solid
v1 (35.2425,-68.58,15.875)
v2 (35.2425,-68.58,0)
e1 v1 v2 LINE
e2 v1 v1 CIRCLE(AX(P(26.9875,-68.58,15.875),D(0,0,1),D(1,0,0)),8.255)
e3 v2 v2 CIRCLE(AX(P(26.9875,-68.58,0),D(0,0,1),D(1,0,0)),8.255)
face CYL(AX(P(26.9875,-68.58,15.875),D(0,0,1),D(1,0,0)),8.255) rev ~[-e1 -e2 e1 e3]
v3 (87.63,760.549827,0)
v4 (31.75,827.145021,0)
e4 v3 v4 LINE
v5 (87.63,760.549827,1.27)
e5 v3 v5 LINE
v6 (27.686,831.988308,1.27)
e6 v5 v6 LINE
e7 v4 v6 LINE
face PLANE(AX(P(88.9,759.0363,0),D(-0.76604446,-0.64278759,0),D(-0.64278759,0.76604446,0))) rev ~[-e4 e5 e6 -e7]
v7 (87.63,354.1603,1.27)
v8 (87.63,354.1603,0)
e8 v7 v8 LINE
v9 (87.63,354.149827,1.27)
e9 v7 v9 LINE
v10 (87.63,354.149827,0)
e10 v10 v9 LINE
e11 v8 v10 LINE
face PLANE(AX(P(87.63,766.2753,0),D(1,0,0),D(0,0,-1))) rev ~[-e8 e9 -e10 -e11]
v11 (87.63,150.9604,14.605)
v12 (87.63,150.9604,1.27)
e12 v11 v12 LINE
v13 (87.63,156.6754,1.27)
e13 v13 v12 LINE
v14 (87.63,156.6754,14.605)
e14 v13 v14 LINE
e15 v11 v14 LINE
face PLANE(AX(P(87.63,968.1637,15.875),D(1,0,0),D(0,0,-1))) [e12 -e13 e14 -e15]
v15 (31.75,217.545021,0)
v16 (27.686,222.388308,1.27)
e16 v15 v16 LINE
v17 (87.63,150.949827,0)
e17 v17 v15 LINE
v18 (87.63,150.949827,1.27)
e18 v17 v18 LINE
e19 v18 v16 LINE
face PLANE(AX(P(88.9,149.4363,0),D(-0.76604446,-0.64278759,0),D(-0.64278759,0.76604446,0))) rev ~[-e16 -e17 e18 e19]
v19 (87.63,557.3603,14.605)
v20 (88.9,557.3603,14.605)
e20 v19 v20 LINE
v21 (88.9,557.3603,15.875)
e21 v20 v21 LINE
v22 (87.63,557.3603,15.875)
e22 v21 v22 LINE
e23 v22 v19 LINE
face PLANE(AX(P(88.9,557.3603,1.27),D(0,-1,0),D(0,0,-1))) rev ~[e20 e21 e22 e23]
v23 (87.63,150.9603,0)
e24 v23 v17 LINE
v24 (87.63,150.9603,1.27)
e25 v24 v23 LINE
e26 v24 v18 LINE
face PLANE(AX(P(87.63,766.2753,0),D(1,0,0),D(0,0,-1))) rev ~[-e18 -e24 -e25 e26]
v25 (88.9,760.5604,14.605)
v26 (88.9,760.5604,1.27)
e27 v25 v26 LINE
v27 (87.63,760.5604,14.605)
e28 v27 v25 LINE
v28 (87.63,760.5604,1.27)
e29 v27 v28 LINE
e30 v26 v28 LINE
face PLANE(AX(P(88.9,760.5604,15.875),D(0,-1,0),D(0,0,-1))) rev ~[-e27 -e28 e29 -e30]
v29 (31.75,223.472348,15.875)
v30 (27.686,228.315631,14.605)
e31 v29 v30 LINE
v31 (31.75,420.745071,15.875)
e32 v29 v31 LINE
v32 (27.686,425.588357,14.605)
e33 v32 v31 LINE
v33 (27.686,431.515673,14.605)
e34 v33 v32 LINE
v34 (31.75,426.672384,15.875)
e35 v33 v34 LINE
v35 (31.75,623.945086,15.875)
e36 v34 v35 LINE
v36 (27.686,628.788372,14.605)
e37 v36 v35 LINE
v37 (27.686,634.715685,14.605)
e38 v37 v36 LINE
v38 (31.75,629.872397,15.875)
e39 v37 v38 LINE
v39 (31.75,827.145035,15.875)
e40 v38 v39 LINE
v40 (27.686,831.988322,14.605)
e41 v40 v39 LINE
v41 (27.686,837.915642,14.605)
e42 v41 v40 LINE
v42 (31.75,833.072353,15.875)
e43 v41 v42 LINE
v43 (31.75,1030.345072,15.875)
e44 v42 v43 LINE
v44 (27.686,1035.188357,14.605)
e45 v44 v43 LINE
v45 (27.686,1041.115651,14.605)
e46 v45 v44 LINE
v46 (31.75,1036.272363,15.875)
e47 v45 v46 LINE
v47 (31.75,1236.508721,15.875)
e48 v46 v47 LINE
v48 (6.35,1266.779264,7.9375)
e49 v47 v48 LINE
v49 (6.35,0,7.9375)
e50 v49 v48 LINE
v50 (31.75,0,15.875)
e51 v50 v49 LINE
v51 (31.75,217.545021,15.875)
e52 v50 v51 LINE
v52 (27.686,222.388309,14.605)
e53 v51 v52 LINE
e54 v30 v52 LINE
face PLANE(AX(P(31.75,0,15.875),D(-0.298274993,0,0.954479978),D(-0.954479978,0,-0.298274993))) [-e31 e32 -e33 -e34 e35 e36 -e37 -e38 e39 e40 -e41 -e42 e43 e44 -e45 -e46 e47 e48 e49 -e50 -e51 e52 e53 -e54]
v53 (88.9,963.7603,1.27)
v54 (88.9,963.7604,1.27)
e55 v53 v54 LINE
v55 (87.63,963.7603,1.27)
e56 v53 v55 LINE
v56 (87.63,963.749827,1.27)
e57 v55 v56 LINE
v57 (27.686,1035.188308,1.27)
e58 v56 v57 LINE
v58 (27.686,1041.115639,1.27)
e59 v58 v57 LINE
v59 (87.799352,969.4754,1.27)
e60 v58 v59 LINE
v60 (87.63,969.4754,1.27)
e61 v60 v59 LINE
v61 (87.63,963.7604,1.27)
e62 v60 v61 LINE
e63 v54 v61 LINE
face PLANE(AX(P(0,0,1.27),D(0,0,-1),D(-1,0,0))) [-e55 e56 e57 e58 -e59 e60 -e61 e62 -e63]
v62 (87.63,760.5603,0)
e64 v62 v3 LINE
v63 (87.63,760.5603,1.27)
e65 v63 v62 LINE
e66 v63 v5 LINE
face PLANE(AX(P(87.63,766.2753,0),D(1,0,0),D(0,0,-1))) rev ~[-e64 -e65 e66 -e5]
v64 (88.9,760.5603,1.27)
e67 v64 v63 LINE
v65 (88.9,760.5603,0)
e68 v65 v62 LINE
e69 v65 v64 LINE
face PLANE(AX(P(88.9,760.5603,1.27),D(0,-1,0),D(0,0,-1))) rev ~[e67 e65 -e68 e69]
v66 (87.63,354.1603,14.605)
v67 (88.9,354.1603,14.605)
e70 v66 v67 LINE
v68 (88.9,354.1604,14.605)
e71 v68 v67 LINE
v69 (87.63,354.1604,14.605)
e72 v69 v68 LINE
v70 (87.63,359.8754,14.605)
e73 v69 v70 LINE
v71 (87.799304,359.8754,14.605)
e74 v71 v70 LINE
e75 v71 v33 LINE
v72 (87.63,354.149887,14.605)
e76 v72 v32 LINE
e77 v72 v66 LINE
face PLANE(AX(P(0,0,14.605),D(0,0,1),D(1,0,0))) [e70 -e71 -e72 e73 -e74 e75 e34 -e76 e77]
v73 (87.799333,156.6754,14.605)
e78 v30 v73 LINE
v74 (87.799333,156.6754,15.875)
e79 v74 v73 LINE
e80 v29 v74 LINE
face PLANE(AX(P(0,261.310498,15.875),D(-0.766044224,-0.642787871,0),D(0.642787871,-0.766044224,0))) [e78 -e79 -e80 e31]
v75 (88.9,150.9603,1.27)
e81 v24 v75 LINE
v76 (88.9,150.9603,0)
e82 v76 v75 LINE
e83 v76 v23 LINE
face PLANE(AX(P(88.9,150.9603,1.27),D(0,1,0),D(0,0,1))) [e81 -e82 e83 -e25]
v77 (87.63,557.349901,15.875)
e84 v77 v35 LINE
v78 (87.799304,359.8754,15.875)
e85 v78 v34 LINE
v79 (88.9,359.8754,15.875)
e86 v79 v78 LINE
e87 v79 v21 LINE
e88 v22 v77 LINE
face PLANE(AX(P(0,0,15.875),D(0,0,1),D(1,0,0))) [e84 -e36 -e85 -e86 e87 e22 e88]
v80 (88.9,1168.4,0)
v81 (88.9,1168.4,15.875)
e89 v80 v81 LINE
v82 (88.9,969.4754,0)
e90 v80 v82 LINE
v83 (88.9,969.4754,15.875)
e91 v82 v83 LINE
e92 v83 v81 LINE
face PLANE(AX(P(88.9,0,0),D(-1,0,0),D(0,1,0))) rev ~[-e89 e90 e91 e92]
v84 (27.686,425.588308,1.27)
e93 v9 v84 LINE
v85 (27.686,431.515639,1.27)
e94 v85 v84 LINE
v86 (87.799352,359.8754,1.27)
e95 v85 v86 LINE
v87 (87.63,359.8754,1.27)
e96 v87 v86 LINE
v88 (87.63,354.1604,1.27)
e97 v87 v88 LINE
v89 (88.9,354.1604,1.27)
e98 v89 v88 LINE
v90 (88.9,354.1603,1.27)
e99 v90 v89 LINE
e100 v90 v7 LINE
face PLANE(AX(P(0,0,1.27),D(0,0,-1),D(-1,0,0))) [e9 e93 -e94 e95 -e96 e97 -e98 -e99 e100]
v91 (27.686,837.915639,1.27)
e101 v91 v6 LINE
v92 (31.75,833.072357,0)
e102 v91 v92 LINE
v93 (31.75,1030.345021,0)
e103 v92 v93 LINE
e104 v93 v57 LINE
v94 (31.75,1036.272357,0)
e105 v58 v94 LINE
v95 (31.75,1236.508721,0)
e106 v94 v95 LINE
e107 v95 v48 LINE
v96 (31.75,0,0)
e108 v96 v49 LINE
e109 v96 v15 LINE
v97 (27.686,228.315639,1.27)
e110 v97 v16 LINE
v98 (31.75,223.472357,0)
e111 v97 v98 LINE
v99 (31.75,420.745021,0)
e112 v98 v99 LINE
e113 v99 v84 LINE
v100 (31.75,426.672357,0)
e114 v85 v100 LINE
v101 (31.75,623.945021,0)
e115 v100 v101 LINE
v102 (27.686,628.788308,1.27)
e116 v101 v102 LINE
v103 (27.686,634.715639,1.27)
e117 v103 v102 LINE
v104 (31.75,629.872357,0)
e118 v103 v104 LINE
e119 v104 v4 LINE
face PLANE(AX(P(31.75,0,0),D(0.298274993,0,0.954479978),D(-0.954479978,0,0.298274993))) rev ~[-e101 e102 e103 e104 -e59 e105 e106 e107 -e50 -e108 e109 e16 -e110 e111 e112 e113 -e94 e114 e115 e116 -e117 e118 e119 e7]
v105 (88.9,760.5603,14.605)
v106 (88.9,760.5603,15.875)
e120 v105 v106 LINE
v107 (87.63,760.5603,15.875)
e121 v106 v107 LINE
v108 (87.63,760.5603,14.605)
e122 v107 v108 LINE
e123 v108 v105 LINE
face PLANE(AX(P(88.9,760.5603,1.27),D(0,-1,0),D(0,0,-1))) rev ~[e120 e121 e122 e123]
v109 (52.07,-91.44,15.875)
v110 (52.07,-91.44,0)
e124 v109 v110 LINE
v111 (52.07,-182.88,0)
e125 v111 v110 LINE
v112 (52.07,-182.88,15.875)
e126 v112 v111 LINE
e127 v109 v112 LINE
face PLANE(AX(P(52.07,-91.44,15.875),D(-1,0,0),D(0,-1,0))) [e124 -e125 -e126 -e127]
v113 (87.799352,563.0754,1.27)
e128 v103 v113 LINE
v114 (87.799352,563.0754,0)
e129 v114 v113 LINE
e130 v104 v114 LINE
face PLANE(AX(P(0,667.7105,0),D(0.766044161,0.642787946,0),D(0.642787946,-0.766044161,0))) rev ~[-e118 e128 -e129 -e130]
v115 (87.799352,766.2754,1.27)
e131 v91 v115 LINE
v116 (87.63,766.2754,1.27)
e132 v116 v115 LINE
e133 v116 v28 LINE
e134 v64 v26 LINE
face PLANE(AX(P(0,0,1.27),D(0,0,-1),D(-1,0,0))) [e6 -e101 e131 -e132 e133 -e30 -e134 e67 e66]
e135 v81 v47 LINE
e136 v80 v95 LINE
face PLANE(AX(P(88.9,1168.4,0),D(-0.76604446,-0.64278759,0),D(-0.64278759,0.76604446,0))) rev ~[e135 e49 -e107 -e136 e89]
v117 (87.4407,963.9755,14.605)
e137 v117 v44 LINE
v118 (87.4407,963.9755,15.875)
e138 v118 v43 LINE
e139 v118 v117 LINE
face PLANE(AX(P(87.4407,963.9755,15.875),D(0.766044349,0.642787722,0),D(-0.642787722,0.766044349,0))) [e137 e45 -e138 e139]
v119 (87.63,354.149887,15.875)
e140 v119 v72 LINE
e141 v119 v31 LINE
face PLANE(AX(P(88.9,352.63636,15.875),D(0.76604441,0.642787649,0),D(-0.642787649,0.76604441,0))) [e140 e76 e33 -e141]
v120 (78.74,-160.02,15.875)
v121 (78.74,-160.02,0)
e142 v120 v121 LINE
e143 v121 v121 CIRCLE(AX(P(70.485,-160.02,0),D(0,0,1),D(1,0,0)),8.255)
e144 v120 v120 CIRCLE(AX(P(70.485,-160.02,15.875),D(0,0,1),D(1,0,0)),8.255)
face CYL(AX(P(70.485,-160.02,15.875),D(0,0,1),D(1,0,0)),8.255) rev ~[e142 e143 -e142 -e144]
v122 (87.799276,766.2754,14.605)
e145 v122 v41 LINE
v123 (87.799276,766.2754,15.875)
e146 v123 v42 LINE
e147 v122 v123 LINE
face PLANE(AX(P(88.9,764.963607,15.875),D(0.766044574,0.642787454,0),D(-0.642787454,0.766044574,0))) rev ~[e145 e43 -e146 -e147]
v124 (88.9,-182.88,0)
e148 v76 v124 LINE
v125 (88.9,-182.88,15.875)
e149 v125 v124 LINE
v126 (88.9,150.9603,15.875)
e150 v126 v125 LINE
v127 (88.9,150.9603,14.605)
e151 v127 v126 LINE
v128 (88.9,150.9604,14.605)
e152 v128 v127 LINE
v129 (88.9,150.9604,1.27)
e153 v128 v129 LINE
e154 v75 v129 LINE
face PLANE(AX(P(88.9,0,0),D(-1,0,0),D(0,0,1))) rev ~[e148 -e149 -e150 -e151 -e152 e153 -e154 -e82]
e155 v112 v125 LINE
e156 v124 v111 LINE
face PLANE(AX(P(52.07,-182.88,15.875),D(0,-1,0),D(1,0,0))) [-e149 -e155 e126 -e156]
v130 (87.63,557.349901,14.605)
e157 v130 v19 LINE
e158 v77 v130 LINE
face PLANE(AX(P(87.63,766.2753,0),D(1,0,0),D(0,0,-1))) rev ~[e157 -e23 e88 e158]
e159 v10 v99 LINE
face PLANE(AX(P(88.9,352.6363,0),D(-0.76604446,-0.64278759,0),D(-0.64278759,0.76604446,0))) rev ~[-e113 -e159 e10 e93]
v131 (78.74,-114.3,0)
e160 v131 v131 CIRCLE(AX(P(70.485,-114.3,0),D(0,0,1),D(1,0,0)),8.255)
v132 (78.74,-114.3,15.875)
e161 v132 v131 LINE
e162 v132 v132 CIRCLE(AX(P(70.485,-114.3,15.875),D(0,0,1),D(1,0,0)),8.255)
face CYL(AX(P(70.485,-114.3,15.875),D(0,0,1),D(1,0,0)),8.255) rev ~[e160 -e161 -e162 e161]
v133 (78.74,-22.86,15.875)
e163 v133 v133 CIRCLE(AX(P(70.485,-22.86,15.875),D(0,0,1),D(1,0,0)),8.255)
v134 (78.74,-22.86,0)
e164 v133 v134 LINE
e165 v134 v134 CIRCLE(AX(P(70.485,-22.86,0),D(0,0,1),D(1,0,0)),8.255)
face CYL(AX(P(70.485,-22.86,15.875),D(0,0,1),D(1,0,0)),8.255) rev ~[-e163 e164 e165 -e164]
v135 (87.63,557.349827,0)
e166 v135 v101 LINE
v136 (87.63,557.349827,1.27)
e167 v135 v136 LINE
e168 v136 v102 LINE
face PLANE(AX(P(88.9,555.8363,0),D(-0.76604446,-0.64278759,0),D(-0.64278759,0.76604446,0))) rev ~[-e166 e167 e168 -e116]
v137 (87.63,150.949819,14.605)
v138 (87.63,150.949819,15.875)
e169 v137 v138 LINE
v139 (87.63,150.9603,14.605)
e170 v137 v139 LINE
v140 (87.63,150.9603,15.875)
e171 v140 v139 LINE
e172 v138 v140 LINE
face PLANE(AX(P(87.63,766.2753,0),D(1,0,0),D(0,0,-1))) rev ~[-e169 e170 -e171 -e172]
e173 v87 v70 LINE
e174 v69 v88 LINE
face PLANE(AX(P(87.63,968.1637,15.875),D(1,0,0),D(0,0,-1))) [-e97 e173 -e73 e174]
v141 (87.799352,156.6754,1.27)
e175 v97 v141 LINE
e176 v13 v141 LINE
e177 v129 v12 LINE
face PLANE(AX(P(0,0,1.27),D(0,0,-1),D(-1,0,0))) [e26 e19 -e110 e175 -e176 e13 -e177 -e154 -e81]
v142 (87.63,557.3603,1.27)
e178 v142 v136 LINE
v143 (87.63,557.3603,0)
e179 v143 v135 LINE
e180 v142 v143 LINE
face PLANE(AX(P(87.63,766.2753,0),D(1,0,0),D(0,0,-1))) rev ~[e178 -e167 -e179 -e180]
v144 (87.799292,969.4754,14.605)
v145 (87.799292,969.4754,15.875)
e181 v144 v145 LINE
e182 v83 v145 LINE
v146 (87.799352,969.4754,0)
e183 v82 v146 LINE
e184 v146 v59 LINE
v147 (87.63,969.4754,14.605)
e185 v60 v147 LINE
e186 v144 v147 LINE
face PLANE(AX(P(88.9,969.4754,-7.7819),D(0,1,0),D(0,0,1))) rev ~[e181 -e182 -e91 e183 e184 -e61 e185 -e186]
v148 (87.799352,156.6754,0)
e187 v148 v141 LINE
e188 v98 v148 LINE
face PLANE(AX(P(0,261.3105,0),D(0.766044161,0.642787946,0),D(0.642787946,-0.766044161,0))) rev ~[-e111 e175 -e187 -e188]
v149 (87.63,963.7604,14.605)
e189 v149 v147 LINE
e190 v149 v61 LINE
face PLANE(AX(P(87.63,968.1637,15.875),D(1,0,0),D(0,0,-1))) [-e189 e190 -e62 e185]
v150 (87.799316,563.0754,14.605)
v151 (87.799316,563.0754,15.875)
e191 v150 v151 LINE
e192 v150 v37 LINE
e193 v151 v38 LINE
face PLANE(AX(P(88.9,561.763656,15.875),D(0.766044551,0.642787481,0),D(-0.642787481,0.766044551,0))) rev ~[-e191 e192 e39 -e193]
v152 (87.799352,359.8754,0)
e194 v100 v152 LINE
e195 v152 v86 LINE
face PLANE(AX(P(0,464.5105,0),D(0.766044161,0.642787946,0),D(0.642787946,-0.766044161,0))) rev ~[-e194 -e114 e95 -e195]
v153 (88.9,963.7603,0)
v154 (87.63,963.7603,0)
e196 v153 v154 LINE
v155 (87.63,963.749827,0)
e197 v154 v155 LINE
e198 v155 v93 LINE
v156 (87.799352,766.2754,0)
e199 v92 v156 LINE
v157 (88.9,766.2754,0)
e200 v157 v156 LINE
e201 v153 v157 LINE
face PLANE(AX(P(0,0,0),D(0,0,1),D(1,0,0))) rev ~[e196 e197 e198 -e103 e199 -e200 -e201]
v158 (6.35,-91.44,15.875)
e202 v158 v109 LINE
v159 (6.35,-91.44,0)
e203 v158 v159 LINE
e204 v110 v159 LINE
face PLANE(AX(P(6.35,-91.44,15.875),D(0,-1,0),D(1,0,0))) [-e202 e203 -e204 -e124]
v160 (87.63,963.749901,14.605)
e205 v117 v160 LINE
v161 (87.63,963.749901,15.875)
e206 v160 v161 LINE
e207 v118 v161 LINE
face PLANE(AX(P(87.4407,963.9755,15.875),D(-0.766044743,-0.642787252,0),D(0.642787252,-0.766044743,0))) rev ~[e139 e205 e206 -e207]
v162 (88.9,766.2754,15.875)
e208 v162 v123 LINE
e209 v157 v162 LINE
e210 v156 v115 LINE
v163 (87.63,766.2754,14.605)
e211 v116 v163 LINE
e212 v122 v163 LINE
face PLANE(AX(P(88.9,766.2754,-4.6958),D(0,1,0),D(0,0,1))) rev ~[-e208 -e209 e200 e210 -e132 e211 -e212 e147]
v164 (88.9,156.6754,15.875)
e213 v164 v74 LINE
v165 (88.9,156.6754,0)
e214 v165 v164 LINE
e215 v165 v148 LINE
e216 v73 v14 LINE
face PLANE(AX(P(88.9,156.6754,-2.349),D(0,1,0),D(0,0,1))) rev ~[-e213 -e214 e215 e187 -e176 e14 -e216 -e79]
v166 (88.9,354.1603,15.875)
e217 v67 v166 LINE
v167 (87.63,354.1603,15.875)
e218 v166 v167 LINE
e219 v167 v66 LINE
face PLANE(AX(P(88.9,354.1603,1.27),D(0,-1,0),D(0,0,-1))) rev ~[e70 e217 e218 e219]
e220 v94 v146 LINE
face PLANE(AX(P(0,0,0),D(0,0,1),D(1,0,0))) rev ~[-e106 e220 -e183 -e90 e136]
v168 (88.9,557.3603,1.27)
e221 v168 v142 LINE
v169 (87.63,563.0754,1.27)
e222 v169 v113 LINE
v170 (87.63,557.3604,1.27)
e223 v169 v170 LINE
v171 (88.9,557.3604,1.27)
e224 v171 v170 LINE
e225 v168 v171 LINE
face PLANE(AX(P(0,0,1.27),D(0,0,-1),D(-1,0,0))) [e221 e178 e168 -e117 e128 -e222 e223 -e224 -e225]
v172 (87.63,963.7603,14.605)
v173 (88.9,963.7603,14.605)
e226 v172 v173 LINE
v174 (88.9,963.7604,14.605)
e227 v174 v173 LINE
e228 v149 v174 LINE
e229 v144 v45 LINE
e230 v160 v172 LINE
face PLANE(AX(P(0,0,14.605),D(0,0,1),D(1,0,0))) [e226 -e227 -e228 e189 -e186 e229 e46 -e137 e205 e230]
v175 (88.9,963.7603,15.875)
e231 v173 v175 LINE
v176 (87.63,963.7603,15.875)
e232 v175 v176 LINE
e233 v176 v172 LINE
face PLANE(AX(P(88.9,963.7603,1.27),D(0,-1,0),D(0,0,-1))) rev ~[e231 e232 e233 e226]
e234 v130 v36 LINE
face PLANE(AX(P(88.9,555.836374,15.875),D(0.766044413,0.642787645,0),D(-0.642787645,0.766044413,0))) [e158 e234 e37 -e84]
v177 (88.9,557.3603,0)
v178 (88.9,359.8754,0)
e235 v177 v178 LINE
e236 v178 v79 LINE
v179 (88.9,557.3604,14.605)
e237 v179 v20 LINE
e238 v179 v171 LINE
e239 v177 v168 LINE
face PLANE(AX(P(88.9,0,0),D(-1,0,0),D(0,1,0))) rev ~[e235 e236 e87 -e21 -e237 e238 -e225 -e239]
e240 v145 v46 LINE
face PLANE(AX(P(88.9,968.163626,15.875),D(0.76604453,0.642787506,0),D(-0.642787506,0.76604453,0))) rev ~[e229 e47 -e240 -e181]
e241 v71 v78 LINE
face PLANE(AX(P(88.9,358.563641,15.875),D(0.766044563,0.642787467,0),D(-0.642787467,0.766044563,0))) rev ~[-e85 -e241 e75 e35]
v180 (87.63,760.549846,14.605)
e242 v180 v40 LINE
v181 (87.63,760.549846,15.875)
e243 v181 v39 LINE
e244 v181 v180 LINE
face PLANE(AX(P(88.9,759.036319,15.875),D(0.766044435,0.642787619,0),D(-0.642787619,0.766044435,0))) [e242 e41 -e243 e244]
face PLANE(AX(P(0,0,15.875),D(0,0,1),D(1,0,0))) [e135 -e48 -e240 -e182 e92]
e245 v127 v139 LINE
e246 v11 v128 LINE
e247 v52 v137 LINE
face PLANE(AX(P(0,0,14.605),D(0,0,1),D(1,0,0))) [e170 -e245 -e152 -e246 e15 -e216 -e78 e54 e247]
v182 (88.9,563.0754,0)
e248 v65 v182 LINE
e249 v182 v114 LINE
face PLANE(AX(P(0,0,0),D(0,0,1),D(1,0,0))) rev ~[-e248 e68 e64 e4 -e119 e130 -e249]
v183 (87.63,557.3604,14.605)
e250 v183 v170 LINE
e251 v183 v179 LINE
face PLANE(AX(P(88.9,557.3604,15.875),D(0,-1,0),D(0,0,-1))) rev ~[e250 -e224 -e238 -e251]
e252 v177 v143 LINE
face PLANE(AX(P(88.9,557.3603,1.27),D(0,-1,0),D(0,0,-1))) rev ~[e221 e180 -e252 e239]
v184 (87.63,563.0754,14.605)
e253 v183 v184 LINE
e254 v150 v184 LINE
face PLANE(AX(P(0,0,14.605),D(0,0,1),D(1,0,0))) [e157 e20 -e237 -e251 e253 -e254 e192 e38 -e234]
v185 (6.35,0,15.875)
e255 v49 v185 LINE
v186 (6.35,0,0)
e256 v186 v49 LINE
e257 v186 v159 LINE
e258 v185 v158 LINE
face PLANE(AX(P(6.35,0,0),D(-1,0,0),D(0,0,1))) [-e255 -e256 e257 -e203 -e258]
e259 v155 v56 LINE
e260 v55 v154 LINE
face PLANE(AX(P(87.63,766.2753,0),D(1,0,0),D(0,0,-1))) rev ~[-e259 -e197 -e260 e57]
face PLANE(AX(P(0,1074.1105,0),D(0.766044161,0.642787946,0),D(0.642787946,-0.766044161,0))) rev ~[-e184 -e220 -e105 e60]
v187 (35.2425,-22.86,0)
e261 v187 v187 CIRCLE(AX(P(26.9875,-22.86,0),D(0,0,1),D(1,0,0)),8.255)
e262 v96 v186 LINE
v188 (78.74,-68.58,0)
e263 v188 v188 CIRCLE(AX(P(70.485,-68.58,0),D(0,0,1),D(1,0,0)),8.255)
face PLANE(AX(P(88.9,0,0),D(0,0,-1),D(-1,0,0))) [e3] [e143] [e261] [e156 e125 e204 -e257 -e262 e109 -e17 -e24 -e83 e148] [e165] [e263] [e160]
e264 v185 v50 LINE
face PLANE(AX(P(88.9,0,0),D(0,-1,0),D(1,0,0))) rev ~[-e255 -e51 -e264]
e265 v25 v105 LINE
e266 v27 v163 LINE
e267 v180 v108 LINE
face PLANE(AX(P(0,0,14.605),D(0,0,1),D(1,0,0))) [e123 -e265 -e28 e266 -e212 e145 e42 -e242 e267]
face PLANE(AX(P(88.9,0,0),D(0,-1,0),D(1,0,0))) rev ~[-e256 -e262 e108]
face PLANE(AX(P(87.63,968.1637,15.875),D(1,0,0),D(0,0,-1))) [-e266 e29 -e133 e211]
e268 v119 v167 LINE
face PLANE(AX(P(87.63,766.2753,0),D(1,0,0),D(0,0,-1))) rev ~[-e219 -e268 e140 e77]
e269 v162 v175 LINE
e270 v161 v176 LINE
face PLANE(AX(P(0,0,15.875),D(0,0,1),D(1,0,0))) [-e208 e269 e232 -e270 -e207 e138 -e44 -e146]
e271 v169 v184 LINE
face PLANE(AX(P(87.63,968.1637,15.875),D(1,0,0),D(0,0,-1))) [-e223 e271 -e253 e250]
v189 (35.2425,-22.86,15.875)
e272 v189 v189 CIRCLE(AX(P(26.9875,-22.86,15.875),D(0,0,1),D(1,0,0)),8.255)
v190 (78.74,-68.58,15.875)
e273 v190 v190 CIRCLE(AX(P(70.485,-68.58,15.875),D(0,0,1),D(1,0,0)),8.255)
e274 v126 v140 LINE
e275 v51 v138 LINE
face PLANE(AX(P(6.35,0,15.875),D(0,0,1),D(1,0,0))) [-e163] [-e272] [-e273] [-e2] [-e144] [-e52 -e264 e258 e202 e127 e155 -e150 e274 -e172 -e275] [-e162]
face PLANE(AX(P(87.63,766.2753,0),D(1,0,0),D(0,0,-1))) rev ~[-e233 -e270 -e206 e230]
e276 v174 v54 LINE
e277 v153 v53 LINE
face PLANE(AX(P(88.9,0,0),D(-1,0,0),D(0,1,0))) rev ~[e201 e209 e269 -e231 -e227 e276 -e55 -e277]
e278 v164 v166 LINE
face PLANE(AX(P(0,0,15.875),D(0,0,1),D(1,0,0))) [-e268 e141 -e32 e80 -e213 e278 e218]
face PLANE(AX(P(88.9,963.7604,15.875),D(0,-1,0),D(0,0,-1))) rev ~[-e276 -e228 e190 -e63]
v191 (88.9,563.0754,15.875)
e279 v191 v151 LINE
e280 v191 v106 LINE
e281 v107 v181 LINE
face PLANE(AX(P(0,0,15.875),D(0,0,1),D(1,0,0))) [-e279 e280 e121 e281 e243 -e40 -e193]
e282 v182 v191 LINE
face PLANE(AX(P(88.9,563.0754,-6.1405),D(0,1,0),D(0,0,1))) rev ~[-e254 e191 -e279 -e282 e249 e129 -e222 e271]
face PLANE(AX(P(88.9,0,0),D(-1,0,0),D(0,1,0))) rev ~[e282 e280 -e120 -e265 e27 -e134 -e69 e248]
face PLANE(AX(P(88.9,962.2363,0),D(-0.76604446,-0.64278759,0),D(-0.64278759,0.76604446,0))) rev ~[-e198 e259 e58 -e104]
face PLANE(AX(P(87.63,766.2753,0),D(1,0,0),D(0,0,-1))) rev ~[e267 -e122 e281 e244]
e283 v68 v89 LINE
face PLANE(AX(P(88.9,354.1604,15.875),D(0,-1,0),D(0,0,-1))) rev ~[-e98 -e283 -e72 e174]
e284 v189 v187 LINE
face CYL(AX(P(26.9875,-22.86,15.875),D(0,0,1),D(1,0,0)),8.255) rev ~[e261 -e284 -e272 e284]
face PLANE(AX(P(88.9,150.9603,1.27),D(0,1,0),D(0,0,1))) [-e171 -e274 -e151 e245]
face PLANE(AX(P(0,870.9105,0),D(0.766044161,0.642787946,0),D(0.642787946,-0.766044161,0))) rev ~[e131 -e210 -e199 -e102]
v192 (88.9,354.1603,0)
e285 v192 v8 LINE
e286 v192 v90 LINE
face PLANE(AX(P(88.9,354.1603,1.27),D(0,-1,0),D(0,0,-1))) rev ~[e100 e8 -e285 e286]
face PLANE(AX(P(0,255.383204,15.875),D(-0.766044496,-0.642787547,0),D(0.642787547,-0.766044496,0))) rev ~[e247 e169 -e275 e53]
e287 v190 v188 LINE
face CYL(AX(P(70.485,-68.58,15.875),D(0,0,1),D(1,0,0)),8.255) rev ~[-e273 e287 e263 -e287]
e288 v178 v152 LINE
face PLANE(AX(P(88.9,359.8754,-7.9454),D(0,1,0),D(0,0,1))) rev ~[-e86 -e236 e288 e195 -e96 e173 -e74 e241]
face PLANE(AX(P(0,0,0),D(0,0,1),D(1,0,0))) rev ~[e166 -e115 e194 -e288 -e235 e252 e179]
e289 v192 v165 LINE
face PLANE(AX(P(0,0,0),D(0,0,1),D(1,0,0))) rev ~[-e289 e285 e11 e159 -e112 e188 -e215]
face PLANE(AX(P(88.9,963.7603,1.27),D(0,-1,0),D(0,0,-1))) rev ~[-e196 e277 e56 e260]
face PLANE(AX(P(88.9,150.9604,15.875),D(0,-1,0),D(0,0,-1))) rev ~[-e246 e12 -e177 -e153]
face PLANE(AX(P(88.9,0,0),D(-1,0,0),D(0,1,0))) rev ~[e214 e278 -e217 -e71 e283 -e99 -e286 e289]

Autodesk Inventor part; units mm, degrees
ref_plane "YZ Plane" through (0, 0, 0) normal (1, 0, 0) x (0, 1, 0)
ref_plane "XZ Plane" through (0, 0, 0) normal (0, 1, 0) x (-1, 0, 0)
ref_plane "XY Plane" through (0, 0, 0) normal (0, 0, 1) x (1, 0, 0)
sketch "Sketch1" plane through (0, 0, 0) normal (0, 0, 1) x (1, 0, 0)
  line L0 (0, 0) -> (88.9, 0)
  line L1 (88.9, 0) -> (88.9, 1168.4)
  line L2 (0, 1168.4) -> (0, 0)
  line L3 (-1378.8531, -765.1447) -> (-1378.8531, 1773.0142) construction
  line L4 (-1378.8531, 1773.0142) -> (415.5122, 1773.0142) construction
  line L5 (415.5122, 1773.0142) -> (415.5122, -765.1447) construction
  line L6 (415.5122, -765.1447) -> (-1378.8531, -765.1447) construction
  line L7 (44.45, 1168.4) -> (176.9474, 1168.4) construction
  line L8 (0, 1168.4) -> (0, 1119.7734)
  line L9 (88.9, 1168.4) -> (0, 1274.3469)
  line L10 (0, 1168.4) -> (0, 1274.3469)
  line L11 (88.9, 1168.4) -> (88.9, 1229.5585)
  line L12 (88.9, 1168.4) -> (88.9, 965.2)
  line L13 (88.9, 965.2) -> (88.9, 762)
  line L14 (88.9, 762) -> (88.9, 558.8)
  line L15 (88.9, 558.8) -> (88.9, 355.6)
  line L16 (88.9, 355.6) -> (88.9, 152.4)
  line L17 (88.9, 965.2) -> (-57.897, 1140.1458)
  line L18 (88.9, 965.2) -> (317.2756, 965.2) construction
  line L19 (88.9, 762) -> (-57.897, 936.9458)
  line L20 (88.9, 762) -> (317.2756, 762) construction
  line L21 (88.9, 558.8) -> (-71.0436, 749.4133)
  line L22 (88.9, 558.8) -> (337.728, 558.8) construction
  line L23 (88.9, 355.6) -> (-47.9591, 518.7023)
  line L24 (88.9, 355.6) -> (301.815, 355.6) construction
  line L25 (88.9, 152.4) -> (-31.1466, 295.4659)
  line L26 (88.9, 152.4) -> (275.6593, 152.4) construction
  line L27 (88.9, 152.4) -> (137.8508, 94.0627)
  line L28 (88.9, 355.6) -> (128.9332, 307.8903)
  line L29 (88.9, 558.8) -> (137.8508, 500.4627)
  line L30 (88.9, 762) -> (152.1538, 686.617)
  line L31 (-57.897, 936.9458) -> (152.1538, 686.617)
  line L32 (-71.0436, 749.4133) -> (137.8508, 500.4627)
  line L33 (-47.9591, 518.7023) -> (128.9332, 307.8903)
  line L34 (-31.1466, 295.4659) -> (137.8508, 94.0627)
  line L35 (164.9833, 874.5275) -> (-78.8863, 1165.1599)
  line L36 (90.3593, 966.4245) -> (-56.4377, 1141.3704)
  line L37 (87.4407, 963.9755) -> (-59.3563, 1138.9213)
  line L38 (157.3047, 680.4784) -> (-71.0436, 952.6133)
  line L39 (158.764, 681.7029) -> (-69.5842, 953.8378)
  line L40 (155.8454, 679.2539) -> (-72.5029, 951.3888)
  line L41 (144.9042, 492.0568) -> (-84.555, 765.5156)
  line L42 (146.3635, 493.2813) -> (-83.0956, 766.7401)
  line L43 (143.4449, 490.8323) -> (-86.0143, 764.2911)
  line L44 (137.8508, 297.2627) -> (-69.5842, 544.4742)
  line L45 (139.3101, 298.4872) -> (-68.1249, 545.6987)
  line L46 (136.3915, 296.0382) -> (-71.0436, 543.2497)
  line L47 (-41.5719, 307.8903) -> (172.2961, 53.0124)
  line L48 (-40.1126, 309.1148) -> (173.7555, 54.2369)
  line L49 (-43.0312, 306.6658) -> (170.8368, 51.7878)
  line L50 (87.4407, 963.9755) -> (94.264, 955.8438)
  dimension "d0" = 88.9
  dimension "d1" = 1168.4
  dimension "d23" = 40
  dimension "d37" = 1.905
  dimension "d38" = 1.905
  dimension "d39" = 1.905
  dimension "d40" = 1.905
  dimension "d41" = 1.905
  dimension "d42" = 1.905
  dimension "d43" = 1.905
  dimension "d44" = 1.905
  dimension "d45" = 1.905
  dimension "d46" = 1.905
  dimension "d129" = 105.9469
extrude "Extrusion1" add sketch "Sketch1" along normal blind 15.875
sketch "Sketch2" plane through (0, 0, 15.875) normal (0, 0, 1) x (1, 0, 0)
  line L0 (0, 0) -> (88.9, 0)
  line L1 (88.9, 0) -> (88.9, 1168.4)
  line L2 (0, 1168.4) -> (0, 0)
  line L3 (-1378.8531, -765.1447) -> (-1378.8531, 1773.0142) construction
  line L4 (-1378.8531, 1773.0142) -> (415.5122, 1773.0142) construction
  line L5 (415.5122, 1773.0142) -> (415.5122, -765.1447) construction
  line L6 (415.5122, -765.1447) -> (-1378.8531, -765.1447) construction
  line L7 (44.45, 1168.4) -> (176.9474, 1168.4) construction
  line L8 (0, 1168.4) -> (0, 1119.7734)
  line L9 (88.9, 1168.4) -> (0, 1274.3469)
  line L10 (0, 1168.4) -> (0, 1274.3469)
  line L11 (88.9, 1168.4) -> (88.9, 1229.5585)
  line L12 (88.9, 1168.4) -> (88.9, 965.2)
  line L13 (88.9, 965.2) -> (88.9, 762)
  line L14 (88.9, 762) -> (88.9, 558.8)
  line L15 (88.9, 558.8) -> (88.9, 355.6)
  line L16 (88.9, 355.6) -> (88.9, 152.4)
  line L17 (88.9, 965.2) -> (-57.897, 1140.1458)
  line L18 (88.9, 965.2) -> (317.2756, 965.2) construction
  line L19 (88.9, 762) -> (-57.897, 936.9458)
  line L20 (88.9, 762) -> (317.2756, 762) construction
  line L21 (88.9, 558.8) -> (-71.0436, 749.4133)
  line L22 (88.9, 558.8) -> (337.728, 558.8) construction
  line L23 (88.9, 355.6) -> (-47.9591, 518.7023)
  line L24 (88.9, 355.6) -> (301.815, 355.6) construction
  line L25 (88.9, 152.4) -> (-31.1466, 295.4659)
  line L26 (88.9, 152.4) -> (275.6593, 152.4) construction
  line L27 (88.9, 152.4) -> (137.8508, 94.0627)
  line L28 (88.9, 355.6) -> (128.9332, 307.8903)
  line L29 (88.9, 558.8) -> (137.8508, 500.4627)
  line L30 (88.9, 762) -> (152.1538, 686.617)
  line L31 (-57.897, 936.9458) -> (152.1538, 686.617)
  line L32 (-71.0436, 749.4133) -> (137.8508, 500.4627)
  line L33 (-47.9591, 518.7023) -> (128.9332, 307.8903)
  line L34 (-31.1466, 295.4659) -> (137.8508, 94.0627)
  line L35 (164.9833, 874.5275) -> (-78.8863, 1165.1599)
  line L36 (90.3593, 966.4245) -> (-56.4377, 1141.3704)
  line L37 (87.4407, 963.9755) -> (-59.3563, 1138.9213)
  line L38 (157.3047, 680.4784) -> (-71.0436, 952.6133)
  line L39 (158.764, 681.7029) -> (-69.5842, 953.8378)
  line L40 (155.8454, 679.2539) -> (-72.5029, 951.3888)
  line L41 (144.9042, 492.0568) -> (-84.555, 765.5156)
  line L42 (146.3635, 493.2813) -> (-83.0956, 766.7401)
  line L43 (143.4449, 490.8323) -> (-86.0143, 764.2911)
  line L44 (137.8508, 297.2627) -> (-69.5842, 544.4742)
  line L45 (139.3101, 298.4872) -> (-68.1249, 545.6987)
  line L46 (136.3915, 296.0382) -> (-71.0436, 543.2497)
  line L47 (-41.5719, 307.8903) -> (172.2961, 53.0124)
  line L48 (-40.1126, 309.1148) -> (173.7555, 54.2369)
  line L49 (-43.0312, 306.6658) -> (170.8368, 51.7878)
  line L50 (87.4407, 963.9755) -> (94.264, 955.8438)
  point P0 (88.9, 962.2363)
  point P1 (88.9, 968.1637)
  point P2 (0, 1074.1105)
  point P3 (0, 1068.1832)
  point P4 (0, 864.9832)
  point P5 (88.9, 759.0363)
  point P6 (88.9, 764.9637)
  point P7 (0, 870.9105)
  point P8 (0, 661.7832)
  point P9 (88.9, 555.8363)
  point P10 (88.9, 561.7637)
  point P11 (0, 667.7105)
  point P12 (0, 458.5832)
  point P13 (88.9, 352.6363)
  point P14 (88.9, 358.5637)
  point P15 (0, 464.5105)
  point P16 (88.9, 155.3637)
  point P17 (0, 261.3105)
  point P18 (0, 255.3832)
  point P19 (88.9, 149.4363)
  dimension "d49" = 88.9
  dimension "d50" = 1168.4
  dimension "d51" = 40
  dimension "d52" = 1.905
  dimension "d53" = 1.905
  dimension "d54" = 1.905
  dimension "d55" = 1.905
  dimension "d56" = 1.905
  dimension "d57" = 1.905
  dimension "d58" = 1.905
  dimension "d59" = 1.905
  dimension "d60" = 1.905
  dimension "d61" = 1.905
extrude "Extrusion2" cut sketch "Sketch2" against normal blind 1.27 contours L2 L25 L1 L49 | L2 L48 L1 L25 | L2 L23 L1 L46 | L2 L45 L1 L23 | L2 L21 L1 L43 | L2 L42 L1 L21 | L2 L19 L1 L40 | L2 L39 L1 L19 | L2 L17 L1 L50 L37 | L2 L36 L1 L17
sketch "Sketch3" plane through (0, 0, 0) normal (0, 0, -1) x (-1, 0, 0)
  line L0 (-88.9, 149.4363) -> (0, 255.3832) projected
  line L1 (0, 261.3105) -> (-88.9, 155.3637) projected
  line L2 (0, 464.5105) -> (-88.9, 358.5637) projected
  line L3 (-88.9, 352.6363) -> (0, 458.5832) projected
  line L4 (-88.9, 555.8363) -> (0, 661.7832) projected
  line L5 (0, 667.7105) -> (-88.9, 561.7637) projected
  line L6 (-88.9, 759.0363) -> (0, 864.9832) projected
  line L7 (0, 870.9105) -> (-88.9, 764.9637) projected
  line L8 (-88.9, 962.2363) -> (0, 1068.1832) projected
  line L9 (0, 1074.1105) -> (-88.9, 968.1637) projected
  line L10 (0, 1274.3469) -> (0, 0) projected
  line L11 (-88.9, 1168.4) -> (0, 1274.3469) projected
  line L12 (-88.9, 0) -> (-88.9, 1168.4) projected
  line L13 (0, 0) -> (-88.9, 0) projected
extrude "Extrusion3" cut sketch "Sketch3" against normal blind 1.27 contours L12 L1 L10 L0 | L12 L2 L10 L3 | L12 L5 L10 L4 | L12 L7 L10 L6 | L12 L9 L10 L8
sketch "Sketch4" plane through (88.9, 968.1637, 15.875) normal (1, 0, 0) x (0, 0, -1)
  line L0 (-0.8567, 45.5077) -> (24.5433, 45.5077)
  line L1 (24.5433, 45.5077) -> (24.5433, 51.2227)
  line L2 (24.5433, 51.2227) -> (-0.8567, 51.2227)
  line L3 (-0.8567, 51.2227) -> (-0.8567, 45.5077)
  line L4 (1.27, -5.9273) -> (0, -5.9273) projected
  line L5 (0, -5.9273) -> (0, -4.4033)
  line L6 (0, 100.0196) -> (0, -97.2531) projected
  line L7 (-3.6064, -4.4033) -> (23.6569, -4.4033)
  line L8 (23.6569, -4.4033) -> (23.6569, 1.3117)
  line L9 (23.6569, 1.3117) -> (-3.6064, 1.3117)
  line L10 (-3.6064, 1.3117) -> (-3.6064, -4.4033)
  line L11 (1.27, -818.7273) -> (0, -818.7273) projected
  line L12 (0, -818.7273) -> (0, -817.2033)
  line L13 (0, -712.7804) -> (0, -968.1637) projected
  line L14 (1.27, -615.5273) -> (0, -615.5273) projected
  line L15 (0, -615.5273) -> (0, -614.0033)
  line L16 (0, -615.5273) -> (0, -509.5804) projected
  line L17 (1.27, -412.3273) -> (0, -412.3273) projected
  line L18 (0, -412.3273) -> (0, -410.8033)
  line L19 (0, -306.3804) -> (0, -503.6531) projected
  line L20 (1.27, -209.1273) -> (0, -209.1273) projected
  line L21 (0, -209.1273) -> (0, -207.6033)
  line L22 (0, -103.1804) -> (0, -300.4531) projected
  line L23 (-2.1765, -817.2033) -> (18.224, -817.2033)
  line L24 (18.224, -817.2033) -> (18.224, -811.4883)
  line L25 (18.224, -811.4883) -> (-2.1765, -811.4883)
  line L26 (-2.1765, -811.4883) -> (-2.1765, -817.2033)
  line L27 (-1.5796, -614.0033) -> (23.8204, -614.0033)
  line L28 (23.8204, -614.0033) -> (23.8204, -608.2883)
  line L29 (23.8204, -608.2883) -> (-1.5796, -608.2883)
  line L30 (-1.5796, -608.2883) -> (-1.5796, -614.0033)
  line L31 (-2.2774, -410.8033) -> (22.0155, -410.8033)
  line L32 (22.0155, -410.8033) -> (22.0155, -405.0883)
  line L33 (22.0155, -405.0883) -> (-2.2774, -405.0883)
  line L34 (-2.2774, -405.0883) -> (-2.2774, -410.8033)
  line L35 (-1.5796, -207.6033) -> (20.5708, -207.6033)
  line L36 (20.5708, -207.6033) -> (20.5708, -201.8883)
  line L37 (20.5708, -201.8883) -> (-1.5796, -201.8883)
  line L38 (-1.5796, -201.8883) -> (-1.5796, -207.6033)
  point P0 (15.875, -968.1637)
  point P1 (0, -201.8883)
  point P2 (0, -811.4883)
  point P3 (0, -608.2883)
  point P4 (0, -405.0883)
  point P5 (0, 1.3117)
  point P6 (0, -4.4033)
  dimension "d74" = 5.715
  dimension "d75" = 25.4
  dimension "d76" = 1.524
  dimension "d79" = 5.715
  dimension "d80" = 1.524
  dimension "d81" = 1.524
  dimension "d82" = 1.524
  dimension "d83" = 1.524
  dimension "d85" = 5.715
  dimension "d86" = 25.4
  dimension "d87" = 5.715
  dimension "d88" = 5.715
  dimension "d89" = 5.715
extrude "Extrusion4" cut sketch "Sketch4" against normal blind 1.27 contours L9 L8 L7 L6 | L25 L24 L23 L13 | L16 L29 L28 L27 | L33 L32 L31 L19 | L37 L36 L35 L22
sketch "Sketch6" plane through (88.9, 766.2753, 0) normal (1, 0, 0) x (0, 0, -1)
  line L0 (-1.27, -615.315) -> (-14.605, -615.315)
  line L1 (-14.605, -615.315) -> (-14.605, -616.839)
  line L2 (-14.605, -616.839) -> (-15.875, -616.839)
  line L3 (-15.875, -766.2753) -> (-15.875, -616.839)
  line L4 (0, -766.2753) -> (-15.875, -766.2753)
  line L5 (0, -766.2753) -> (0, -616.839)
  line L6 (0, -616.839) -> (-1.27, -616.839)
  line L7 (-1.27, -616.839) -> (-1.27, -615.315)
  line L8 (-1.27, -412.115) -> (-14.605, -412.115)
  line L9 (-14.605, -412.115) -> (-14.605, -413.639)
  line L10 (-14.605, -413.639) -> (-15.875, -413.639)
  line L11 (-15.875, -609.6) -> (-15.875, -413.639)
  line L12 (-15.875, -609.6) -> (0, -609.6)
  line L13 (0, -609.6) -> (0, -413.639)
  line L14 (0, -413.639) -> (-1.27, -413.639)
  line L15 (-1.27, -413.639) -> (-1.27, -412.115)
  line L16 (0, -406.4) -> (0, -210.439)
  line L17 (-15.875, -406.4) -> (0, -406.4)
  line L18 (0, -406.4) -> (0, -210.439)
  line L19 (0, -210.439) -> (-1.27, -210.439)
  line L20 (-1.27, -210.439) -> (-1.27, -208.915)
  line L21 (-1.27, -208.915) -> (-14.605, -208.915)
  line L22 (-14.605, -208.915) -> (-14.605, -210.439)
  line L23 (-14.605, -210.439) -> (-15.875, -210.439)
  line L24 (-15.875, -406.4) -> (-15.875, -210.439)
  line L25 (-15.875, -203.2) -> (0, -203.2)
  line L26 (0, -203.2) -> (0, -7.239)
  line L27 (0, -7.239) -> (-1.27, -7.239)
  line L28 (-1.27, -7.239) -> (-1.27, -5.715)
  line L29 (-1.27, -5.715) -> (-14.605, -5.715)
  line L30 (-14.605, -5.715) -> (-14.605, -7.239)
  line L31 (-14.605, -7.239) -> (-15.875, -7.239)
  line L32 (-15.875, -203.2) -> (-15.875, -7.239)
  line L33 (-15.875, 0) -> (0, 0)
  line L34 (0, 0) -> (0, 195.961)
  line L35 (0, 195.961) -> (-1.27, 195.961)
  line L36 (-1.27, 195.961) -> (-1.27, 197.485)
  line L37 (-1.27, 197.485) -> (-14.605, 197.485)
  line L38 (-14.605, 197.485) -> (-14.605, 195.961)
  line L39 (-14.605, 195.961) -> (-15.875, 195.961)
  line L40 (-15.875, 0) -> (-15.875, 195.961)
  line L41 (-15.875, 203.2) -> (0, 203.2)
  line L42 (0, 203.2) -> (0, 402.1247)
  line L43 (0, 402.1247) -> (-15.875, 402.1247)
  line L44 (-15.875, 203.2) -> (-15.875, 402.1247)
  line L45 (0, 402.1247) -> (0, 508.0715)
  line L46 (0, 508.0715) -> (-15.875, 508.0715)
  line L47 (-15.875, 402.1247) -> (-15.875, 508.0715)
  line L48 (0, 402.1247) -> (-15.875, 402.1247)
  line L49 (-15.875, 195.961) -> (-15.875, 301.9079)
  line L50 (0, 195.961) -> (-1.27, 195.961)
  line L51 (-15.875, 197.485) -> (0, 197.485)
  line L52 (0, 197.485) -> (0, 195.961)
  line L53 (0, 195.961) -> (-15.875, 195.961)
  line L54 (-15.875, 195.961) -> (-15.875, 197.485)
  line L55 (-15.875, 98.7079) -> (-15.875, -98.5648)
  line L56 (0, -7.239) -> (-1.27, -7.239)
  line L57 (-15.875, -5.715) -> (0, -5.715)
  line L58 (0, -5.715) -> (0, -7.239)
  line L59 (0, -7.239) -> (-15.875, -7.239)
  line L60 (-15.875, -7.239) -> (-15.875, -5.715)
  line L61 (-15.875, -104.4921) -> (-15.875, -301.7648)
  line L62 (0, -104.4921) -> (0, -210.439)
  line L63 (-15.875, -208.915) -> (0, -208.915)
  line L64 (0, -208.915) -> (0, -210.439)
  line L65 (0, -210.439) -> (-15.875, -210.439)
  line L66 (-15.875, -210.439) -> (-15.875, -208.915)
  line L67 (-15.875, -413.639) -> (-15.875, -307.6921)
  line L68 (0, -307.6921) -> (0, -413.639)
  line L69 (-15.875, -412.115) -> (0, -412.115)
  line L70 (0, -412.115) -> (0, -413.639)
  line L71 (0, -413.639) -> (-15.875, -413.639)
  line L72 (-15.875, -413.639) -> (-15.875, -412.115)
  line L73 (-15.875, -616.839) -> (-15.875, -510.8921)
  line L74 (0, -510.8921) -> (0, -616.839)
  line L75 (-15.875, -615.315) -> (0, -615.315)
  line L76 (0, -615.315) -> (0, -616.839)
  line L77 (0, -616.839) -> (-15.875, -616.839)
  line L78 (-15.875, -616.839) -> (-15.875, -615.315)
extrude "Extrusion5" add sketch "Sketch6" against normal blind 1.27 contours L7 L77 L1 L0 | L75 L74 L6 L7 | L1 L2 L73 L75 | L14 L15 L69 L68 | L67 L69 L9 L10 | L71 L9 L8 L15 | L19 L20 L63 L62 | L65 L22 L21 L20 | L61 L63 L22 L23 | L27 L28 L57 L58 | L59 L30 L29 L28 | L55 L57 L30 L31 | L35 L36 L51 L52 | L49 L51 L38 L39 | L53 L38 L37 L36
sketch "Sketch8" plane through (0, 0, 15.875) normal (0, 0, 1) x (1, 0, 0)
  line L0 (0, -7.1275) -> (6.35, -7.1275)
  line L1 (6.35, -7.1275) -> (6.35, 1442.9398)
  line L2 (6.35, 1442.9398) -> (0, 1442.9398)
  line L3 (0, 1442.9398) -> (0, -7.1275)
  point P0 (0, 0)
  dimension "d94" = 6.35
extrude "Extrusion6" cut sketch "Sketch8" against normal through all
sketch "Sketch12" plane through (88.9, 0, 0) normal (0, -1, 0) x (1, 0, 0)
  line L0 (-82.55, 15.875) -> (-82.55, 14.605) projected
  line L1 (-82.55, 15.875) -> (-57.15, 15.875)
  line L2 (-82.55, 15.875) -> (-1.1006, 15.875) projected
  line L3 (-57.15, 15.875) -> (-82.55, 7.9375)
  line L4 (-82.55, 15.875) -> (-82.55, 0) projected
  line L5 (-82.55, 0) -> (-1.27, 0) projected
  line L6 (-82.55, 15.875) -> (-82.55, 0) projected
  line L7 (-82.55, 0) -> (0, 0) projected
  line L8 (0, 0) -> (0, 15.875) projected
  line L9 (-82.55, 15.875) -> (0, 15.875) projected
  line L10 (-57.15, 0) -> (-82.55, 7.9375)
  point P0 (-88.9, 0)
  dimension "d104" = 25.4
extrude "Extrusion8" cut sketch "Sketch12" against normal through all contours L1 L3 L4 L0 | L10 L5 L4
sketch "Sketch13" plane through (88.9, 0, 0) normal (0, -1, 0) x (1, 0, 0)
  line L0 (0, 0) -> (0, 15.875) projected
  line L1 (0, 0) -> (-82.55, 0)
  line L2 (-82.55, 0) -> (-82.55, 15.875)
  line L3 (-82.55, 15.875) -> (0, 15.875)
  line L4 (0, 15.875) -> (0, 0)
  point P0 (-88.9, 0)
extrude "Extrusion9" add sketch "Sketch13" along normal blind 184.15
sketch "Sketch14" plane through (0, 0, 15.875) normal (0, 0, 1) x (1, 0, 0)
  line L0 (6.35, 0) -> (6.35, -184.15) projected
  line L1 (6.35, 0) -> (6.35, -91.44)
  line L2 (6.35, -91.44) -> (52.07, -91.44)
  line L3 (52.07, -91.44) -> (52.07, -182.88)
  line L4 (52.07, -182.88) -> (88.9, -182.88)
  line L5 (88.9, 150.9603) -> (88.9, -184.15) projected
  line L6 (31.75, 217.5451) -> (31.75, 0) projected
  line L7 (31.75, 0) -> (6.35, 0) projected
  line L8 (6.35, 0) -> (6.35, -184.15) projected
  line L9 (88.9, -184.15) -> (6.35, -184.15) projected
  line L10 (88.9, 150.9603) -> (88.9, -184.15) projected
  line L11 (88.9, 150.9603) -> (87.63, 150.9603) projected
  line L12 (87.63, 150.9499) -> (87.63, 150.9603) projected
  line L13 (87.63, 150.9499) -> (31.75, 217.5451) projected
  point P0 (0, 0)
  dimension "d109" = 91.44
  dimension "d112" = 45.72
  dimension "d113" = 91.44
  dimension "d131" = 36.83
extrude "Extrusion10" cut sketch "Sketch14" against normal blind 184.15 contours L2 L3 L4 L5 L9 L0
sketch "Sketch17" plane through (0, 0, 15.875) normal (0, 0, 1) x (1, 0, 0)
  line L0 (6.35, 0) -> (6.35, -91.44) projected
  line L1 (47.625, -45.72) -> (6.35, -45.72)
  line L2 (6.35, -45.72) -> (6.35, 0)
  line L3 (6.35, 0) -> (47.625, 0)
  line L4 (47.625, 0) -> (47.625, -45.72)
  line L5 (88.9, 150.9603) -> (88.9, -182.88) projected
  line L6 (47.625, -45.72) -> (88.9, -45.72)
  line L7 (88.9, -45.72) -> (88.9, 0)
  line L8 (88.9, 0) -> (47.625, 0)
  line L9 (47.625, 0) -> (47.625, -45.72)
  line L10 (47.625, -45.72) -> (88.9, -45.72)
  line L11 (88.9, -45.72) -> (88.9, -91.44)
  line L12 (88.9, -91.44) -> (47.625, -91.44)
  line L13 (47.625, -91.44) -> (47.625, -45.72)
  line L14 (6.35, -91.44) -> (52.07, -91.44) projected
  line L15 (47.625, -45.72) -> (6.35, -45.72)
  line L16 (6.35, -45.72) -> (6.35, -91.44)
  line L17 (6.35, -91.44) -> (47.625, -91.44)
  line L18 (47.625, -91.44) -> (47.625, -45.72)
  line L19 (52.07, -182.88) -> (88.9, -182.88)
  line L20 (88.9, -182.88) -> (88.9, -137.16)
  line L21 (88.9, -137.16) -> (52.07, -137.16)
  line L22 (52.07, -137.16) -> (52.07, -182.88)
  line L23 (52.07, -137.16) -> (88.9, -137.16)
  line L24 (88.9, -137.16) -> (88.9, -91.44)
  line L25 (88.9, -91.44) -> (52.07, -91.44)
  line L26 (52.07, -91.44) -> (52.07, -137.16)
  circle A0 centre (26.9875, -22.86) radius 8.255
  circle A1 centre (70.485, -22.86) radius 8.255
  circle A2 centre (70.485, -68.58) radius 8.255
  circle A3 centre (26.9875, -68.58) radius 8.255
  circle A4 centre (70.485, -114.3) radius 8.255
  circle A5 centre (70.485, -160.02) radius 8.255
  point P0 (70.485, -137.16)
  dimension "d120" = 16.51
  dimension "d121" = 16.51
  dimension "d122" = 16.51
  dimension "d123" = 16.51
  dimension "d124" = 16.51
  dimension "d125" = 16.51
extrude "Extrusion11" cut sketch "Sketch17" against normal blind 25.4 contours A0 | A1 | A2 | A3 | A4 | A5
properties part number "blade c 3.25"
